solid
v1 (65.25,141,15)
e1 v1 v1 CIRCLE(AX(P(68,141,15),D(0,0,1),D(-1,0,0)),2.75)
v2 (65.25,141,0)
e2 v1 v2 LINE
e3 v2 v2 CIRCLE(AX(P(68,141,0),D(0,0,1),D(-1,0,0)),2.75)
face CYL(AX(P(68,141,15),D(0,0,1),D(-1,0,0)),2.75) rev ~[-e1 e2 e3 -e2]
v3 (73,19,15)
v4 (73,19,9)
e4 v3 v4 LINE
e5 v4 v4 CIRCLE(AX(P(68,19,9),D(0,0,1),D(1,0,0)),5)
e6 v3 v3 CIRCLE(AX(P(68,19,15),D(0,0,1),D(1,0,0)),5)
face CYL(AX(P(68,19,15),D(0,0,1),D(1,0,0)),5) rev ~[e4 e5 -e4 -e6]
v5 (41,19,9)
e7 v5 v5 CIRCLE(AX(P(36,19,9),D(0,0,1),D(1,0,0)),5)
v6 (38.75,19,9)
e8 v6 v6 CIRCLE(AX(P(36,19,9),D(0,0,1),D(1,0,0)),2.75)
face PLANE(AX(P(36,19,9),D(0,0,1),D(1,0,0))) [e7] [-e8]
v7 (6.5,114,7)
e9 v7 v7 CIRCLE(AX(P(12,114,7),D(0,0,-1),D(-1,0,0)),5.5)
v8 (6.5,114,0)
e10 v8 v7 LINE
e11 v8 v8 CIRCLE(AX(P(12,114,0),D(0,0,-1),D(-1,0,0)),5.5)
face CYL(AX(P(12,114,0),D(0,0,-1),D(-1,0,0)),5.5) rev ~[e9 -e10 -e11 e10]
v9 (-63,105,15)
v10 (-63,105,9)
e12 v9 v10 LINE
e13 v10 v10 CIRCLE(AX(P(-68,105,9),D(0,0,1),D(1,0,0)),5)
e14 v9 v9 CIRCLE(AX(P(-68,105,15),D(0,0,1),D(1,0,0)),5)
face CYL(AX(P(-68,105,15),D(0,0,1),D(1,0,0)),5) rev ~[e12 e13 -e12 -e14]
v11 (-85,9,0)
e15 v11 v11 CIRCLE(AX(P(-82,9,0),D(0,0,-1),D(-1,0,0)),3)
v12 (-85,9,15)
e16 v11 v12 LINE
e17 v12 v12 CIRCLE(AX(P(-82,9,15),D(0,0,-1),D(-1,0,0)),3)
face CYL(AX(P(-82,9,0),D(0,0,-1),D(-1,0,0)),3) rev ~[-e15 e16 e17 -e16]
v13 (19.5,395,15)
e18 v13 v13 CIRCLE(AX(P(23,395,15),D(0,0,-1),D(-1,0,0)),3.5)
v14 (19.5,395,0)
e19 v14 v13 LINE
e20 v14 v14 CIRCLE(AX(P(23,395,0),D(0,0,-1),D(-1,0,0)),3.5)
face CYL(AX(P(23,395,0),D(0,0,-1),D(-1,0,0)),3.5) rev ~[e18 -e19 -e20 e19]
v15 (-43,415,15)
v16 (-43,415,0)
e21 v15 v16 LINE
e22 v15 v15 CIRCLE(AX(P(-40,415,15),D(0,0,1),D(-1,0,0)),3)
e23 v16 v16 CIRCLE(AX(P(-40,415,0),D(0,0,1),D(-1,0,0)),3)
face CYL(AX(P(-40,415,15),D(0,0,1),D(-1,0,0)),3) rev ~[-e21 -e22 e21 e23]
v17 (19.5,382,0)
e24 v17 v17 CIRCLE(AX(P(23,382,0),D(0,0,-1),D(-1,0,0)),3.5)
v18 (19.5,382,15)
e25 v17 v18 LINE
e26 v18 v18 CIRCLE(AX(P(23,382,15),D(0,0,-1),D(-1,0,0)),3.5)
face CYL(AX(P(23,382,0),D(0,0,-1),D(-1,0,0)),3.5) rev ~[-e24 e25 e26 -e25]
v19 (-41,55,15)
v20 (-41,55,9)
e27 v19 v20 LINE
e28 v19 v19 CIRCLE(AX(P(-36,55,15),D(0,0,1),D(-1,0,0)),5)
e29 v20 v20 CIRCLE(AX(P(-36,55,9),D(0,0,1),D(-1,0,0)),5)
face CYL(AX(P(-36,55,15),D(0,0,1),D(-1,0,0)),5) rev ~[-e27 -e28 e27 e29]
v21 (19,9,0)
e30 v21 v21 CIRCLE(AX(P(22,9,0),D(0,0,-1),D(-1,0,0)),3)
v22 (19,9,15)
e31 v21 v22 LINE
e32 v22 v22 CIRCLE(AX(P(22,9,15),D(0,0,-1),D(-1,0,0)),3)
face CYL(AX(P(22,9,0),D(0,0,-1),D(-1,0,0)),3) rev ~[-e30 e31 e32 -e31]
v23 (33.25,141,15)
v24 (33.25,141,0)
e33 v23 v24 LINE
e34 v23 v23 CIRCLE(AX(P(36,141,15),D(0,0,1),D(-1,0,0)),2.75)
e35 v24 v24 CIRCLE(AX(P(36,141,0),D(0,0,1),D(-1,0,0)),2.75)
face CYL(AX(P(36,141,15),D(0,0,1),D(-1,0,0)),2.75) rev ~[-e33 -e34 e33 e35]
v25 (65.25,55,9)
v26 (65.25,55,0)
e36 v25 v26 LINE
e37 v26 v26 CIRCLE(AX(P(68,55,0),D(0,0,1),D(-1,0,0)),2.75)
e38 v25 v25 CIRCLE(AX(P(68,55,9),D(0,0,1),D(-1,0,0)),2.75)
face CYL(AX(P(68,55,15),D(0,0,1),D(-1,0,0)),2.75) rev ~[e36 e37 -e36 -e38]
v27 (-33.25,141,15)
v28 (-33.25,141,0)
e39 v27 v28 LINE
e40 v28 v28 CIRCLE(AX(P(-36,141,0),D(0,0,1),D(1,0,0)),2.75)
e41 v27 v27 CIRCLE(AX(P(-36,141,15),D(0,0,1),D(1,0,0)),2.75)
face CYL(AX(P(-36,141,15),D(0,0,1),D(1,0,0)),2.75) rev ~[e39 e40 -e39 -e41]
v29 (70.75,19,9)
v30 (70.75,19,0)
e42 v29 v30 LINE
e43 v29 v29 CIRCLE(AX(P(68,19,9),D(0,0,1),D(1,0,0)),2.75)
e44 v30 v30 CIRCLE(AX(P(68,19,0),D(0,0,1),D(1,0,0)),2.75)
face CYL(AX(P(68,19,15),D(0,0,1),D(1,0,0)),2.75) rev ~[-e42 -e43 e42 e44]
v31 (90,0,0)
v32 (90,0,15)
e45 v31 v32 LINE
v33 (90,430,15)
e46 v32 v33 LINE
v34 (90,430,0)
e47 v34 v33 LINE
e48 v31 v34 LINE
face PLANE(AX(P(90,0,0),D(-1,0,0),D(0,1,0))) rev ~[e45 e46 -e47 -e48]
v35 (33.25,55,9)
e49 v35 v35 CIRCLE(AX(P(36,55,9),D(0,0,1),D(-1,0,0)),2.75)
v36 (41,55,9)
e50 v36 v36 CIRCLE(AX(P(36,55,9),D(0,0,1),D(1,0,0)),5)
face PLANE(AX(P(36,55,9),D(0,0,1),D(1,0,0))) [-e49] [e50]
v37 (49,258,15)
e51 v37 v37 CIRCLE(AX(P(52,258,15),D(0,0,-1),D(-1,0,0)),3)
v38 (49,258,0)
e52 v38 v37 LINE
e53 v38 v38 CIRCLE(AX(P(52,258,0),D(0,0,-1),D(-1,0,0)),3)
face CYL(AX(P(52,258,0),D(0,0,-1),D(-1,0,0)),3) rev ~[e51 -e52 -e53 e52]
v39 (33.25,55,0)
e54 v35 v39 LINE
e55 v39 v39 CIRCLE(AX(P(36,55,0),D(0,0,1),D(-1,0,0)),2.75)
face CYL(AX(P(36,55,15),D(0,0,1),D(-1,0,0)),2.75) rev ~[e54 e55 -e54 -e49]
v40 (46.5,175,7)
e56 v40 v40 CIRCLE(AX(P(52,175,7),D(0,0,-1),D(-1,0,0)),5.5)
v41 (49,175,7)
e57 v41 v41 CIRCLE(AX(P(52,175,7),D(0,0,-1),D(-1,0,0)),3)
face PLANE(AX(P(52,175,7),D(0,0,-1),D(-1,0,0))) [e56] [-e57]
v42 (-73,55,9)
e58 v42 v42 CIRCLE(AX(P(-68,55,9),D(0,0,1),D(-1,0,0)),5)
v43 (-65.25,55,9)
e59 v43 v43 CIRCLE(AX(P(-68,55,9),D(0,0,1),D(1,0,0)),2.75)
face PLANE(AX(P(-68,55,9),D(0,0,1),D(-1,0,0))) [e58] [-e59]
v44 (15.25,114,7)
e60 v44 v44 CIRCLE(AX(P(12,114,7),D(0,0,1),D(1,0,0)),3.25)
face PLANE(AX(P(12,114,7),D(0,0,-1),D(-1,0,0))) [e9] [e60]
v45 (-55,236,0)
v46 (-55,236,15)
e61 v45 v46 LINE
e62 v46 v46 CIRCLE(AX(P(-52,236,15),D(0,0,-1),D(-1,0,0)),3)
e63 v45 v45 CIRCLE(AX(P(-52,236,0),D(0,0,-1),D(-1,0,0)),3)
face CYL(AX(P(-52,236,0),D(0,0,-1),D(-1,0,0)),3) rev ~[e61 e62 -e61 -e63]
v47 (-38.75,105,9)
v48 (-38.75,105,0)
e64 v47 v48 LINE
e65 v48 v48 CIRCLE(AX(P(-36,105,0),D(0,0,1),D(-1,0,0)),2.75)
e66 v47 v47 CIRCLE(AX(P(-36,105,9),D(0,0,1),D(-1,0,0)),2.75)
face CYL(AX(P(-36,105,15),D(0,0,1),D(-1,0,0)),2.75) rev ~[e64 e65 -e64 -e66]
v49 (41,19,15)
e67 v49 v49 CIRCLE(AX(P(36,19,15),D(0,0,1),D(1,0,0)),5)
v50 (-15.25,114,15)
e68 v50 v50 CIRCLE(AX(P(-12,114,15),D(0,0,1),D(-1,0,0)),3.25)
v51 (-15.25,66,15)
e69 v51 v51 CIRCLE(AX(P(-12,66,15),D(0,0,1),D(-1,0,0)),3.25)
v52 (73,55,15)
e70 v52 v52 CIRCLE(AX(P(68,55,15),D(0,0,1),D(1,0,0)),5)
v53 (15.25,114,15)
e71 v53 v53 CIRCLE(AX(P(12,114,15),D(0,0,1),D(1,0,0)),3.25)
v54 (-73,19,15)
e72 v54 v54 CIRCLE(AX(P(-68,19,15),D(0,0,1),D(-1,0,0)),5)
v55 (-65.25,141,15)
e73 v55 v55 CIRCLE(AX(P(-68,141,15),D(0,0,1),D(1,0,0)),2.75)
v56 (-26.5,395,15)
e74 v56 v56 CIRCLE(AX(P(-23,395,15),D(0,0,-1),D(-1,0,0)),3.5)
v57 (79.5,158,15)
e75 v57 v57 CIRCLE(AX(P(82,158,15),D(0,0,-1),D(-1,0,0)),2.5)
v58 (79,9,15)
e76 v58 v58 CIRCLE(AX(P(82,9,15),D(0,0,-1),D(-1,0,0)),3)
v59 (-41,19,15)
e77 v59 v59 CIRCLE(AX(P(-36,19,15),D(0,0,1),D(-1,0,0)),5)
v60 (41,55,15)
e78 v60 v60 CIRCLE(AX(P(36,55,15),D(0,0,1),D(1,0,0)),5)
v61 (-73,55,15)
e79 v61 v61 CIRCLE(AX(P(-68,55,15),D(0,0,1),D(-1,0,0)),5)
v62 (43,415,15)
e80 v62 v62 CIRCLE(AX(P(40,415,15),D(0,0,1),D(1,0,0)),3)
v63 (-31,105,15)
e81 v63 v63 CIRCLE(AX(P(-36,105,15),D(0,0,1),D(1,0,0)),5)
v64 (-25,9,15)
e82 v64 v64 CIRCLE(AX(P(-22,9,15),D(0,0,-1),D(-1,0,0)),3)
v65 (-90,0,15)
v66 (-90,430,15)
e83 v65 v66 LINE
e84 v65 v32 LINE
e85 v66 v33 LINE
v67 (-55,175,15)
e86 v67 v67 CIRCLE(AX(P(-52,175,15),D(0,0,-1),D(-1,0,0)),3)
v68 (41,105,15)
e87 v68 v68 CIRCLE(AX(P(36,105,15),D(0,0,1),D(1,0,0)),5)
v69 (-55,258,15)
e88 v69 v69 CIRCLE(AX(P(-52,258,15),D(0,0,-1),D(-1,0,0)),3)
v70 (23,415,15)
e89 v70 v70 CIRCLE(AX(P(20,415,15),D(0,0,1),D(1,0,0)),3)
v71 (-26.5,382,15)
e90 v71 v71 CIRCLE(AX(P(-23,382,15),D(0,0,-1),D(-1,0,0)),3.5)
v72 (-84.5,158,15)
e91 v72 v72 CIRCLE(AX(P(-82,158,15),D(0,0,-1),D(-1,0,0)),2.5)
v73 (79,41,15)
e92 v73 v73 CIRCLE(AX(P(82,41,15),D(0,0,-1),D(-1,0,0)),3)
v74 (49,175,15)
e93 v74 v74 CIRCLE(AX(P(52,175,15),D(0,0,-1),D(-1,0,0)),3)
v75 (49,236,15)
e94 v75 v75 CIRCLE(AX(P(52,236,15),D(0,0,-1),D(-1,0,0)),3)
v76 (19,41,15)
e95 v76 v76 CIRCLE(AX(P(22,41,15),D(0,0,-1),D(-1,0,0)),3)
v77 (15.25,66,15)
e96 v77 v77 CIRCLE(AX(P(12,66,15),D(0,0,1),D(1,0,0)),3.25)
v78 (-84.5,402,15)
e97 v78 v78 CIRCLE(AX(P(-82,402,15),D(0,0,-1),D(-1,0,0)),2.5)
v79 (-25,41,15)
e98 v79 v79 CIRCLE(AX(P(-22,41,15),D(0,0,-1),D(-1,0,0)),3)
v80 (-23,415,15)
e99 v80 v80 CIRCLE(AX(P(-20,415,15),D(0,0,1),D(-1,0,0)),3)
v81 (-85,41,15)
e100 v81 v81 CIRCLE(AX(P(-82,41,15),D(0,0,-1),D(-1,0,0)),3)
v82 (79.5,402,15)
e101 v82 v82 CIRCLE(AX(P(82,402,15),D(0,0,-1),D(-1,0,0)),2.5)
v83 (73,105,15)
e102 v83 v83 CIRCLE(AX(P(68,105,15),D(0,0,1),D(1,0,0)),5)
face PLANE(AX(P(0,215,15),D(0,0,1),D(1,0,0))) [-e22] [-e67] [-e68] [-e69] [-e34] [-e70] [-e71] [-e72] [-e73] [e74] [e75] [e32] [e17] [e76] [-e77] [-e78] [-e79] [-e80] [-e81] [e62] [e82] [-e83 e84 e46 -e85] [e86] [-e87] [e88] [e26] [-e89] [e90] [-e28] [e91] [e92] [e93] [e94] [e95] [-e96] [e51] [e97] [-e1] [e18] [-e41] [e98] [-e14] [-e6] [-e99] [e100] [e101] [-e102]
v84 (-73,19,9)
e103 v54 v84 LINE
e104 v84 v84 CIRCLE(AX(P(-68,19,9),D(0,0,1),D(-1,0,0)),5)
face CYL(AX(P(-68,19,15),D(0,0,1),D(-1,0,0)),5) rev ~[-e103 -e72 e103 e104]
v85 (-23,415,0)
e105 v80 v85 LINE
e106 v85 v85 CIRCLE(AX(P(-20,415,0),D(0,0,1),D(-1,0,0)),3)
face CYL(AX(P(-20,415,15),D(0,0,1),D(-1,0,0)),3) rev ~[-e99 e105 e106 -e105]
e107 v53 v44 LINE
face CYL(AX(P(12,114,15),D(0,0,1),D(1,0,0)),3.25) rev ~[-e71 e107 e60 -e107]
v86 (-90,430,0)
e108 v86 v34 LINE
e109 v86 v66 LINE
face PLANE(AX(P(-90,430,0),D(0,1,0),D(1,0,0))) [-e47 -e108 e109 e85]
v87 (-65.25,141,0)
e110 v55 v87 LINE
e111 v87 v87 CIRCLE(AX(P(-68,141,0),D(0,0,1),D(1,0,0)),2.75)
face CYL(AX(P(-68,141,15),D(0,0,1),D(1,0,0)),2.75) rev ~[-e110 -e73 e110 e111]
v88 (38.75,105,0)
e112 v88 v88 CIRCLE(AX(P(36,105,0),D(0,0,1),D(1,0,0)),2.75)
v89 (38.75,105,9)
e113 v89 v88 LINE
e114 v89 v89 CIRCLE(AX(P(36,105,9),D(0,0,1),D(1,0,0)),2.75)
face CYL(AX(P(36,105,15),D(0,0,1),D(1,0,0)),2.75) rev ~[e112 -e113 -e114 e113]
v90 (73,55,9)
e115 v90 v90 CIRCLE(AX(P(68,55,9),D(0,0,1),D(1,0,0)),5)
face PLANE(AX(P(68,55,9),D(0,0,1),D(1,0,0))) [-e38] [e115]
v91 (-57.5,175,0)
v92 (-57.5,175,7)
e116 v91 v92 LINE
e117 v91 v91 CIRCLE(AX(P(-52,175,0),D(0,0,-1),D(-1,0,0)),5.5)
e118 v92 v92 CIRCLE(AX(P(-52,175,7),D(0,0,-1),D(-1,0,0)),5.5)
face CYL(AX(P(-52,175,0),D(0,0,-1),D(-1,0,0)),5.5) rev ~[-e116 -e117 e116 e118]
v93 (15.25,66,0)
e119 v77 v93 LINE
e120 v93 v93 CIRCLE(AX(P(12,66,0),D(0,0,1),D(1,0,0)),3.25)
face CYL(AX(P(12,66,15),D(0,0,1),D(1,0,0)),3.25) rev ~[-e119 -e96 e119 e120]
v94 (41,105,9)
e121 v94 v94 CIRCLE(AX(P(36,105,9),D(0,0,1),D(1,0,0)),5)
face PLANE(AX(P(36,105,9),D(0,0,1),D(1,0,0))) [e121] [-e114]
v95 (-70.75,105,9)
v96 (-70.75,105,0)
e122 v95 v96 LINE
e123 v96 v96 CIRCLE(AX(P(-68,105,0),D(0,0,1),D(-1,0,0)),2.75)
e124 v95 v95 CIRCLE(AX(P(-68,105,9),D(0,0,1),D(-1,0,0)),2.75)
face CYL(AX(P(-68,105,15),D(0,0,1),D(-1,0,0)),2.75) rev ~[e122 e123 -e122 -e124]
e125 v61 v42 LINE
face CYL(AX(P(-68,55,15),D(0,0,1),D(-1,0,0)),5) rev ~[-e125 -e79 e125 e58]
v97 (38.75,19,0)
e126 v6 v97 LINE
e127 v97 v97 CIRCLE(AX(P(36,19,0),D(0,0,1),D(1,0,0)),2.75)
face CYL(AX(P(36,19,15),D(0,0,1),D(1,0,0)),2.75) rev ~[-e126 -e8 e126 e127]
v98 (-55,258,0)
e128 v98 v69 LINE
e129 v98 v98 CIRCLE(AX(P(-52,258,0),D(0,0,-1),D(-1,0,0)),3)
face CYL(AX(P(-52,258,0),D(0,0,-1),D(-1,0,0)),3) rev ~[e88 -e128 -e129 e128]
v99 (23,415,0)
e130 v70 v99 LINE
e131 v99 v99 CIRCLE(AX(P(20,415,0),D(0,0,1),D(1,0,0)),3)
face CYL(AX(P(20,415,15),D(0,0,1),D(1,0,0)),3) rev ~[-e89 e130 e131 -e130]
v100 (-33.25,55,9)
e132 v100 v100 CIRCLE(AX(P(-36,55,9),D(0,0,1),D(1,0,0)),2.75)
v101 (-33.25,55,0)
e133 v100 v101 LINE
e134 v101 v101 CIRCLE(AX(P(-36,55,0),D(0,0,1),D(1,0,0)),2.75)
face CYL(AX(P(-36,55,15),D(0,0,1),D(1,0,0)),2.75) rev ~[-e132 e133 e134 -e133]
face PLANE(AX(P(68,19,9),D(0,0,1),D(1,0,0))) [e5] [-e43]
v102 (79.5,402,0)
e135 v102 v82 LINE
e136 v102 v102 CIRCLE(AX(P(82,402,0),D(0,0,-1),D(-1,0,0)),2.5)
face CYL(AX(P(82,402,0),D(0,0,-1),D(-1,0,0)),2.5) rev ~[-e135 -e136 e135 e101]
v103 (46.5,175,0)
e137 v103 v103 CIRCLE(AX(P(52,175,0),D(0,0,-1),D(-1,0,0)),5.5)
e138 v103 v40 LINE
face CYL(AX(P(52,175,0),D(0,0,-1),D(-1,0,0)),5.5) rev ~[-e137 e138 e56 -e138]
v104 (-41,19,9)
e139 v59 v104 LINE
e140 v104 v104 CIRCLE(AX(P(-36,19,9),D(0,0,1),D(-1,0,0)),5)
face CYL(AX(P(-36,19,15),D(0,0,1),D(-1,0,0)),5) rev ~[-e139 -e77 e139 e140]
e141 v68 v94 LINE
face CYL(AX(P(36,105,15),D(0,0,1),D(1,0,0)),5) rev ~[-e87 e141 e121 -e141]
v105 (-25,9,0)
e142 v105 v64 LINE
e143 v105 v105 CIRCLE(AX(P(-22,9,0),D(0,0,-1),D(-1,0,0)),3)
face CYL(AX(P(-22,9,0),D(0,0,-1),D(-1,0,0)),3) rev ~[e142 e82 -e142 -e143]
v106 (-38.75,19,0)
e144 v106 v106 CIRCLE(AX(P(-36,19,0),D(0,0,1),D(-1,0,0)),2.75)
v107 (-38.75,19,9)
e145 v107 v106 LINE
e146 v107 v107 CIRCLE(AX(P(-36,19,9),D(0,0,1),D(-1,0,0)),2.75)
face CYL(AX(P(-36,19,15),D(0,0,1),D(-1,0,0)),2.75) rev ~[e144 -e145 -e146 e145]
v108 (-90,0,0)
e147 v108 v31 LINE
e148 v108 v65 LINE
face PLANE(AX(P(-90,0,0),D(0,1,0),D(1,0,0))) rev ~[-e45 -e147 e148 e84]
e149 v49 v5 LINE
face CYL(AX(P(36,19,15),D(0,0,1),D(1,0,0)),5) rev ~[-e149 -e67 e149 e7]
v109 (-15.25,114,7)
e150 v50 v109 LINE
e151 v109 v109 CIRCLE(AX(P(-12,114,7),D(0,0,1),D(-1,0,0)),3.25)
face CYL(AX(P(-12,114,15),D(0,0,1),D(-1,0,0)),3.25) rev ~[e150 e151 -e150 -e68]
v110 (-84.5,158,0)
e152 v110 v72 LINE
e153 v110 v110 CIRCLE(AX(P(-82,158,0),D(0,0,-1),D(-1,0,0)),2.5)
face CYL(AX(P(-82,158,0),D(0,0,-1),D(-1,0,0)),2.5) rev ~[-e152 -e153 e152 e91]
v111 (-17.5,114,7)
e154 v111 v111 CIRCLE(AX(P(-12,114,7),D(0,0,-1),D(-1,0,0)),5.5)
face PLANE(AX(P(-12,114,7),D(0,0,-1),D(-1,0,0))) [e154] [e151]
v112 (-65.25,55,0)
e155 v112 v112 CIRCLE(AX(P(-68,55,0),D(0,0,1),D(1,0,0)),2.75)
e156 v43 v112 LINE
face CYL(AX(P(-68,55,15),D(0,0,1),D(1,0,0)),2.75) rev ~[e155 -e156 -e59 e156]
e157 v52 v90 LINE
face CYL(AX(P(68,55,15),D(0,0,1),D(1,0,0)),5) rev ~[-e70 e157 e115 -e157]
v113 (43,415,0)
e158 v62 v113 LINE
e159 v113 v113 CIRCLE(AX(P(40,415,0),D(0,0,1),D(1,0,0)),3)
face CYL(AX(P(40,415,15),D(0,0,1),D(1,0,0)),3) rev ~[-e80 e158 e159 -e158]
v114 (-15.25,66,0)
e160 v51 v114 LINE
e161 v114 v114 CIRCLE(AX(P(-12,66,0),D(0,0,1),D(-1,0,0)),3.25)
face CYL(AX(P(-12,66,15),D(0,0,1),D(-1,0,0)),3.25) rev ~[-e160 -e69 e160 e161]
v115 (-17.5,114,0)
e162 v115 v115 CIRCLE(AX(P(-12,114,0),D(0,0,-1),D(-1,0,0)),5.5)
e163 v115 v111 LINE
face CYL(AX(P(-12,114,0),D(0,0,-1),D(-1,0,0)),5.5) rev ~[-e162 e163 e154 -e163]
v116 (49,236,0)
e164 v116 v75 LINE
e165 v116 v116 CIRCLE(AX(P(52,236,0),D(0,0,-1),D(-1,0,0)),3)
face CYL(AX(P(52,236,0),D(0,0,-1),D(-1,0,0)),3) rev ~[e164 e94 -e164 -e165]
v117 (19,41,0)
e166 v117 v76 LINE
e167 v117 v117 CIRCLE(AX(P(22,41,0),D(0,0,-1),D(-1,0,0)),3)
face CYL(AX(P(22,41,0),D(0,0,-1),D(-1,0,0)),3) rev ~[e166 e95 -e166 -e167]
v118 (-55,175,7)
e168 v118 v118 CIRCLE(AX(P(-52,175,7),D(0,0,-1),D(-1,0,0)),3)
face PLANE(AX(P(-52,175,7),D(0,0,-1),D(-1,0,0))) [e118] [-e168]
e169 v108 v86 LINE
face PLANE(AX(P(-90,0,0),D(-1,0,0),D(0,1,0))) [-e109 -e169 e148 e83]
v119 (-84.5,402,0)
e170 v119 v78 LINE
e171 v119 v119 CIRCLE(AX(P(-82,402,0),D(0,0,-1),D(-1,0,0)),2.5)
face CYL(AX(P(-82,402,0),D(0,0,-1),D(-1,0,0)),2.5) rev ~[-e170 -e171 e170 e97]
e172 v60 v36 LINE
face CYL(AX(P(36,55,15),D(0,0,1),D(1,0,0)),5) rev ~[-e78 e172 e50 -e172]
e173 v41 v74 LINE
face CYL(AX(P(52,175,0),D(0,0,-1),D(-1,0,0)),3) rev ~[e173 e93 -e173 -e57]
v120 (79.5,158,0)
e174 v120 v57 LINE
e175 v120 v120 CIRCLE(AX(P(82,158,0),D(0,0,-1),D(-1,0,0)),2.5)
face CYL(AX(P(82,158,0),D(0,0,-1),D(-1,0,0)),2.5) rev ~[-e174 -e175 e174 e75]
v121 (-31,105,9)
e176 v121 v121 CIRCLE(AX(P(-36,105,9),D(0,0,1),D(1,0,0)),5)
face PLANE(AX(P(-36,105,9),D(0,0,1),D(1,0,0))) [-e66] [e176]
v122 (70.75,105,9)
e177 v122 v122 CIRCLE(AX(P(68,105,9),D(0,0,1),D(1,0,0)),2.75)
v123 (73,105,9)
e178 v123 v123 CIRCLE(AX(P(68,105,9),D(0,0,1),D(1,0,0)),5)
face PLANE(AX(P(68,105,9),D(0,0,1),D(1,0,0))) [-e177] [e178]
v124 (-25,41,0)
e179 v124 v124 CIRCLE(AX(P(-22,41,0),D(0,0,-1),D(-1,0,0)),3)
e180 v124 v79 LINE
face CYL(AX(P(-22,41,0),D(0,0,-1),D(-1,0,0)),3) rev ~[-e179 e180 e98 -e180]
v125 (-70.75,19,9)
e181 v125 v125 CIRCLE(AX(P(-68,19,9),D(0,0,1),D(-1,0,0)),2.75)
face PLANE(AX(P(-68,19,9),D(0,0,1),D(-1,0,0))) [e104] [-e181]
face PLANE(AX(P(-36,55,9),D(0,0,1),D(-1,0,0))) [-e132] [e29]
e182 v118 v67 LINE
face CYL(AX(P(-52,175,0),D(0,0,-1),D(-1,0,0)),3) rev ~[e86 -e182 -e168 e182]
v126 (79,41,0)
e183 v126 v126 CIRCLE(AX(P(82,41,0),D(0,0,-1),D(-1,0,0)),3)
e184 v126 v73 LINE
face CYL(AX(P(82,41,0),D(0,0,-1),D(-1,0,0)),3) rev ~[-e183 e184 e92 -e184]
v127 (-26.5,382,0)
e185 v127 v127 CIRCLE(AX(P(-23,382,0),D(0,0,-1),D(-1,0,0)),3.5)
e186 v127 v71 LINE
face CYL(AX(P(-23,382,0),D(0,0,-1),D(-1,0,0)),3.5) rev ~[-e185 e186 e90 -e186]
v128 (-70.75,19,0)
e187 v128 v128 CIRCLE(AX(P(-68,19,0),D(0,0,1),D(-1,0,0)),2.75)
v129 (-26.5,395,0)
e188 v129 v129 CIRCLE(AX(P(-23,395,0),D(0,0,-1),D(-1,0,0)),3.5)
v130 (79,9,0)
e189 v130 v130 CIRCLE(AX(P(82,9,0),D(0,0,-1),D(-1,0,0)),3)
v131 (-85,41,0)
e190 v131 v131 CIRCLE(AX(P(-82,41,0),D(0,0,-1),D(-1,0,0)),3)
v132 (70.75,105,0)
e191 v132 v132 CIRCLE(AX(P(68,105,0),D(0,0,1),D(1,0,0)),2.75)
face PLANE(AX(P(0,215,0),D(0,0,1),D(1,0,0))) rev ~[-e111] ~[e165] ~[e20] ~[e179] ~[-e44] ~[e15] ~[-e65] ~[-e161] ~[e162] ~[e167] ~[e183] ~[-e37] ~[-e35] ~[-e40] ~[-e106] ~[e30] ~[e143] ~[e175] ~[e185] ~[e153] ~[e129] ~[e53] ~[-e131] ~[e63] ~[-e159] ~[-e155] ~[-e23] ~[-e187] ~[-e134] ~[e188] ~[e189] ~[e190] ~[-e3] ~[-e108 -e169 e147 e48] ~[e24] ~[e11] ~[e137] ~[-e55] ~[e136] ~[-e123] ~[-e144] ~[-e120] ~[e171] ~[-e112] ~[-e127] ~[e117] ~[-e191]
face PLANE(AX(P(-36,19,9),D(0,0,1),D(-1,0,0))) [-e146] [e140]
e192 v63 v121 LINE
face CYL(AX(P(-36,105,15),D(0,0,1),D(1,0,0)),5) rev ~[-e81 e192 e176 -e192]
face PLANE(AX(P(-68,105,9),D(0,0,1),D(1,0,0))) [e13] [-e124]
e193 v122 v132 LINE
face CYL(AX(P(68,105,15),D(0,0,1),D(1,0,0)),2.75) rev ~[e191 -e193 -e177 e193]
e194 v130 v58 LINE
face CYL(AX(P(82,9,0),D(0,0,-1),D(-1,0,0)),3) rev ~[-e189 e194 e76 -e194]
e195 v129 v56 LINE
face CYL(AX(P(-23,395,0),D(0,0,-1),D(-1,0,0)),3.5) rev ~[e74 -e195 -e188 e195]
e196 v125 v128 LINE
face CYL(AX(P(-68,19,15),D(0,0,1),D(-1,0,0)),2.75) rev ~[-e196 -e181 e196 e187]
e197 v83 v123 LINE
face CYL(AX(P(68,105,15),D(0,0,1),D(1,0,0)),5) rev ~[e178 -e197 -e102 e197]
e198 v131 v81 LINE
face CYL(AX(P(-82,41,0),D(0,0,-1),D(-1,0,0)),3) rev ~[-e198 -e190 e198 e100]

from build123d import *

# Parameters (mm, degrees)
SKIZZE1_W                        = 180
SKIZZE1_H                        = 430
AUFSATZ_LINEAR_AUSTRAGEN1_DEPTH  = 15
SKIZZE2_R                        = 2.75
SCHNITT_LINEAR_AUSTRAGEN1_DEPTH  = 40
SKIZZE3_R                        = 3.25
SCHNITT_LINEAR_AUSTRAGEN2_DEPTH  = 40
SKIZZE6_R                        = 3.5
SCHNITT_LINEAR_AUSTRAGEN5_DEPTH  = 30
SKIZZE7_R                        = 3
SCHNITT_LINEAR_AUSTRAGEN6_DEPTH  = 40
SKIZZE8_R                        = 3
SCHNITT_LINEAR_AUSTRAGEN7_DEPTH  = 40
SKIZZE9_R                        = 5
SCHNITT_LINEAR_AUSTRAGEN8_DEPTH  = 6
SKIZZE11_R                       = 3
SCHNITT_LINEAR_AUSTRAGEN10_DEPTH = 40
SKIZZE10_R                       = 5.5
SCHNITT_LINEAR_AUSTRAGEN9_DEPTH  = 7
SKIZZE12_R                       = 2.5
SCHNITT_LINEAR_AUSTRAGEN11_DEPTH = 30


with BuildPart() as part:
    # Skizze1 → Aufsatz-Linear austragen1 (new body)
    with BuildSketch(Plane.XY):
        with Locations((0, 215)):
            Rectangle(SKIZZE1_W, SKIZZE1_H)
    extrude(amount=AUFSATZ_LINEAR_AUSTRAGEN1_DEPTH)

    # Skizze2 → Schnitt-Linear austragen1 (cut)
    with BuildSketch(Plane.XY.offset(15)):
        with Locations((36, 19)):
            Circle(SKIZZE2_R)
        with Locations((68, 19)):
            Circle(SKIZZE2_R)
        with Locations(Location((68, 55, 0), (0, 0, 180))):
            Circle(SKIZZE2_R)
        with Locations(Location((36, 55, 0), (0, 0, 180))):
            Circle(SKIZZE2_R)
        with Locations(Location((-36, 19, 0), (0, 0, 180))):
            Circle(SKIZZE2_R)
        with Locations(Location((-68, 19, 0), (0, 0, 180))):
            Circle(SKIZZE2_R)
        with Locations((-68, 55)):
            Circle(SKIZZE2_R)
        with Locations((-36, 55)):
            Circle(SKIZZE2_R)
        with Locations(Location((-36, 105, 0), (0, 0, 180))):
            Circle(SKIZZE2_R)
        with Locations(Location((-68, 105, 0), (0, 0, 180))):
            Circle(SKIZZE2_R)
        with Locations((-68, 141)):
            Circle(SKIZZE2_R)
        with Locations((-36, 141)):
            Circle(SKIZZE2_R)
        with Locations((36, 105)):
            Circle(SKIZZE2_R)
        with Locations((68, 105)):
            Circle(SKIZZE2_R)
        with Locations(Location((68, 141, 0), (0, 0, 180))):
            Circle(SKIZZE2_R)
        with Locations(Location((36, 141, 0), (0, 0, 180))):
            Circle(SKIZZE2_R)
    extrude(amount=-SCHNITT_LINEAR_AUSTRAGEN1_DEPTH, mode=Mode.SUBTRACT)

    # Skizze3 → Schnitt-Linear austragen2 (cut)
    with BuildSketch(Plane.XY.offset(15)):
        with Locations((12, 66)):
            Circle(SKIZZE3_R)
        with Locations((12, 114)):
            Circle(SKIZZE3_R)
        with Locations(Location((-12, 114, 0), (0, 0, 180))):
            Circle(SKIZZE3_R)
        with Locations(Location((-12, 66, 0), (0, 0, 180))):
            Circle(SKIZZE3_R)
    extrude(amount=-SCHNITT_LINEAR_AUSTRAGEN2_DEPTH, mode=Mode.SUBTRACT)

    # Skizze6 → Schnitt-Linear austragen5 (cut)
    with BuildSketch(Plane(origin=(0, 0, 0), x_dir=(-1, 0, 0), z_dir=(0, 0, -1))):
        with Locations((23, 395)):
            Circle(SKIZZE6_R)
        with Locations((23, 382)):
            Circle(SKIZZE6_R)
        with Locations((-23, 382)):
            Circle(SKIZZE6_R)
        with Locations((-23, 395)):
            Circle(SKIZZE6_R)
    extrude(amount=-SCHNITT_LINEAR_AUSTRAGEN5_DEPTH, mode=Mode.SUBTRACT)

    # Skizze7 → Schnitt-Linear austragen6 (cut)
    with BuildSketch(Plane.XY.offset(15)):
        with Locations((20, 415)):
            Circle(SKIZZE7_R)
        with Locations((40, 415)):
            Circle(SKIZZE7_R)
        with Locations(Location((-40, 415, 0), (0, 0, 180))):
            Circle(SKIZZE7_R)
        with Locations(Location((-20, 415, 0), (0, 0, 180))):
            Circle(SKIZZE7_R)
    extrude(amount=-SCHNITT_LINEAR_AUSTRAGEN6_DEPTH, mode=Mode.SUBTRACT)

    # Skizze8 → Schnitt-Linear austragen7 (cut)
    with BuildSketch(Plane(origin=(0, 0, 0), x_dir=(-1, 0, 0), z_dir=(0, 0, -1))):
        with Locations((22, 9)):
            Circle(SKIZZE8_R)
        with Locations((82, 9)):
            Circle(SKIZZE8_R)
        with Locations((22, 41)):
            Circle(SKIZZE8_R)
        with Locations((82, 41)):
            Circle(SKIZZE8_R)
        with Locations((-82, 41)):
            Circle(SKIZZE8_R)
        with Locations((-82, 9)):
            Circle(SKIZZE8_R)
        with Locations((-22, 9)):
            Circle(SKIZZE8_R)
        with Locations((-22, 41)):
            Circle(SKIZZE8_R)
    extrude(amount=-SCHNITT_LINEAR_AUSTRAGEN7_DEPTH, mode=Mode.SUBTRACT)

    # Skizze9 → Schnitt-Linear austragen8 (cut)
    with BuildSketch(Plane.XY.offset(15)):
        with Locations((68, 55)):
            Circle(SKIZZE9_R)
        with Locations((68, 19)):
            Circle(SKIZZE9_R)
        with Locations((36, 19)):
            Circle(SKIZZE9_R)
        with Locations((36, 55)):
            Circle(SKIZZE9_R)
        with Locations(Location((-68, 19, 0), (0, 0, 180))):
            Circle(SKIZZE9_R)
        with Locations(Location((-36, 19, 0), (0, 0, 180))):
            Circle(SKIZZE9_R)
        with Locations(Location((-68, 55, 0), (0, 0, 180))):
            Circle(SKIZZE9_R)
        with Locations(Location((-36, 55, 0), (0, 0, 180))):
            Circle(SKIZZE9_R)
        with Locations((68, 105)):
            Circle(SKIZZE9_R)
        with Locations((36, 105)):
            Circle(SKIZZE9_R)
        with Locations((-36, 105)):
            Circle(SKIZZE9_R)
        with Locations((-68, 105)):
            Circle(SKIZZE9_R)
    extrude(amount=-SCHNITT_LINEAR_AUSTRAGEN8_DEPTH, mode=Mode.SUBTRACT)

    # Skizze11 → Schnitt-Linear austragen10 (cut)
    with BuildSketch(Plane(origin=(0, 0, 0), x_dir=(-1, 0, 0), z_dir=(0, 0, -1))):
        with Locations((-52, 175)):
            Circle(SKIZZE11_R)
        with Locations((-52, 236)):
            Circle(SKIZZE11_R)
        with Locations((52, 236)):
            Circle(SKIZZE11_R)
        with Locations((52, 175)):
            Circle(SKIZZE11_R)
        with Locations((-52, 258)):
            Circle(SKIZZE11_R)
        with Locations((52, 258)):
            Circle(SKIZZE11_R)
    extrude(amount=-SCHNITT_LINEAR_AUSTRAGEN10_DEPTH, mode=Mode.SUBTRACT)

    # Skizze10 → Schnitt-Linear austragen9 (cut)
    with BuildSketch(Plane(origin=(0, 0, 0), x_dir=(-1, 0, 0), z_dir=(0, 0, -1))):
        with Locations((12, 114)):
            Circle(SKIZZE10_R)
        with Locations((-12, 114)):
            Circle(SKIZZE10_R)
        with Locations((52, 175)):
            Circle(SKIZZE10_R)
        with Locations((-52, 175)):
            Circle(SKIZZE10_R)
    extrude(amount=-SCHNITT_LINEAR_AUSTRAGEN9_DEPTH, mode=Mode.SUBTRACT)

    # Skizze12 → Schnitt-Linear austragen11 (cut)
    with BuildSketch(Plane(origin=(0, 0, 0), x_dir=(-1, 0, 0), z_dir=(0, 0, -1))):
        with Locations((82, 402)):
            Circle(SKIZZE12_R)
        with Locations((82, 158)):
            Circle(SKIZZE12_R)
        with Locations((-82, 158)):
            Circle(SKIZZE12_R)
        with Locations((-82, 402)):
            Circle(SKIZZE12_R)
    extrude(amount=-SCHNITT_LINEAR_AUSTRAGEN11_DEPTH, mode=Mode.SUBTRACT)


solid = part.part
